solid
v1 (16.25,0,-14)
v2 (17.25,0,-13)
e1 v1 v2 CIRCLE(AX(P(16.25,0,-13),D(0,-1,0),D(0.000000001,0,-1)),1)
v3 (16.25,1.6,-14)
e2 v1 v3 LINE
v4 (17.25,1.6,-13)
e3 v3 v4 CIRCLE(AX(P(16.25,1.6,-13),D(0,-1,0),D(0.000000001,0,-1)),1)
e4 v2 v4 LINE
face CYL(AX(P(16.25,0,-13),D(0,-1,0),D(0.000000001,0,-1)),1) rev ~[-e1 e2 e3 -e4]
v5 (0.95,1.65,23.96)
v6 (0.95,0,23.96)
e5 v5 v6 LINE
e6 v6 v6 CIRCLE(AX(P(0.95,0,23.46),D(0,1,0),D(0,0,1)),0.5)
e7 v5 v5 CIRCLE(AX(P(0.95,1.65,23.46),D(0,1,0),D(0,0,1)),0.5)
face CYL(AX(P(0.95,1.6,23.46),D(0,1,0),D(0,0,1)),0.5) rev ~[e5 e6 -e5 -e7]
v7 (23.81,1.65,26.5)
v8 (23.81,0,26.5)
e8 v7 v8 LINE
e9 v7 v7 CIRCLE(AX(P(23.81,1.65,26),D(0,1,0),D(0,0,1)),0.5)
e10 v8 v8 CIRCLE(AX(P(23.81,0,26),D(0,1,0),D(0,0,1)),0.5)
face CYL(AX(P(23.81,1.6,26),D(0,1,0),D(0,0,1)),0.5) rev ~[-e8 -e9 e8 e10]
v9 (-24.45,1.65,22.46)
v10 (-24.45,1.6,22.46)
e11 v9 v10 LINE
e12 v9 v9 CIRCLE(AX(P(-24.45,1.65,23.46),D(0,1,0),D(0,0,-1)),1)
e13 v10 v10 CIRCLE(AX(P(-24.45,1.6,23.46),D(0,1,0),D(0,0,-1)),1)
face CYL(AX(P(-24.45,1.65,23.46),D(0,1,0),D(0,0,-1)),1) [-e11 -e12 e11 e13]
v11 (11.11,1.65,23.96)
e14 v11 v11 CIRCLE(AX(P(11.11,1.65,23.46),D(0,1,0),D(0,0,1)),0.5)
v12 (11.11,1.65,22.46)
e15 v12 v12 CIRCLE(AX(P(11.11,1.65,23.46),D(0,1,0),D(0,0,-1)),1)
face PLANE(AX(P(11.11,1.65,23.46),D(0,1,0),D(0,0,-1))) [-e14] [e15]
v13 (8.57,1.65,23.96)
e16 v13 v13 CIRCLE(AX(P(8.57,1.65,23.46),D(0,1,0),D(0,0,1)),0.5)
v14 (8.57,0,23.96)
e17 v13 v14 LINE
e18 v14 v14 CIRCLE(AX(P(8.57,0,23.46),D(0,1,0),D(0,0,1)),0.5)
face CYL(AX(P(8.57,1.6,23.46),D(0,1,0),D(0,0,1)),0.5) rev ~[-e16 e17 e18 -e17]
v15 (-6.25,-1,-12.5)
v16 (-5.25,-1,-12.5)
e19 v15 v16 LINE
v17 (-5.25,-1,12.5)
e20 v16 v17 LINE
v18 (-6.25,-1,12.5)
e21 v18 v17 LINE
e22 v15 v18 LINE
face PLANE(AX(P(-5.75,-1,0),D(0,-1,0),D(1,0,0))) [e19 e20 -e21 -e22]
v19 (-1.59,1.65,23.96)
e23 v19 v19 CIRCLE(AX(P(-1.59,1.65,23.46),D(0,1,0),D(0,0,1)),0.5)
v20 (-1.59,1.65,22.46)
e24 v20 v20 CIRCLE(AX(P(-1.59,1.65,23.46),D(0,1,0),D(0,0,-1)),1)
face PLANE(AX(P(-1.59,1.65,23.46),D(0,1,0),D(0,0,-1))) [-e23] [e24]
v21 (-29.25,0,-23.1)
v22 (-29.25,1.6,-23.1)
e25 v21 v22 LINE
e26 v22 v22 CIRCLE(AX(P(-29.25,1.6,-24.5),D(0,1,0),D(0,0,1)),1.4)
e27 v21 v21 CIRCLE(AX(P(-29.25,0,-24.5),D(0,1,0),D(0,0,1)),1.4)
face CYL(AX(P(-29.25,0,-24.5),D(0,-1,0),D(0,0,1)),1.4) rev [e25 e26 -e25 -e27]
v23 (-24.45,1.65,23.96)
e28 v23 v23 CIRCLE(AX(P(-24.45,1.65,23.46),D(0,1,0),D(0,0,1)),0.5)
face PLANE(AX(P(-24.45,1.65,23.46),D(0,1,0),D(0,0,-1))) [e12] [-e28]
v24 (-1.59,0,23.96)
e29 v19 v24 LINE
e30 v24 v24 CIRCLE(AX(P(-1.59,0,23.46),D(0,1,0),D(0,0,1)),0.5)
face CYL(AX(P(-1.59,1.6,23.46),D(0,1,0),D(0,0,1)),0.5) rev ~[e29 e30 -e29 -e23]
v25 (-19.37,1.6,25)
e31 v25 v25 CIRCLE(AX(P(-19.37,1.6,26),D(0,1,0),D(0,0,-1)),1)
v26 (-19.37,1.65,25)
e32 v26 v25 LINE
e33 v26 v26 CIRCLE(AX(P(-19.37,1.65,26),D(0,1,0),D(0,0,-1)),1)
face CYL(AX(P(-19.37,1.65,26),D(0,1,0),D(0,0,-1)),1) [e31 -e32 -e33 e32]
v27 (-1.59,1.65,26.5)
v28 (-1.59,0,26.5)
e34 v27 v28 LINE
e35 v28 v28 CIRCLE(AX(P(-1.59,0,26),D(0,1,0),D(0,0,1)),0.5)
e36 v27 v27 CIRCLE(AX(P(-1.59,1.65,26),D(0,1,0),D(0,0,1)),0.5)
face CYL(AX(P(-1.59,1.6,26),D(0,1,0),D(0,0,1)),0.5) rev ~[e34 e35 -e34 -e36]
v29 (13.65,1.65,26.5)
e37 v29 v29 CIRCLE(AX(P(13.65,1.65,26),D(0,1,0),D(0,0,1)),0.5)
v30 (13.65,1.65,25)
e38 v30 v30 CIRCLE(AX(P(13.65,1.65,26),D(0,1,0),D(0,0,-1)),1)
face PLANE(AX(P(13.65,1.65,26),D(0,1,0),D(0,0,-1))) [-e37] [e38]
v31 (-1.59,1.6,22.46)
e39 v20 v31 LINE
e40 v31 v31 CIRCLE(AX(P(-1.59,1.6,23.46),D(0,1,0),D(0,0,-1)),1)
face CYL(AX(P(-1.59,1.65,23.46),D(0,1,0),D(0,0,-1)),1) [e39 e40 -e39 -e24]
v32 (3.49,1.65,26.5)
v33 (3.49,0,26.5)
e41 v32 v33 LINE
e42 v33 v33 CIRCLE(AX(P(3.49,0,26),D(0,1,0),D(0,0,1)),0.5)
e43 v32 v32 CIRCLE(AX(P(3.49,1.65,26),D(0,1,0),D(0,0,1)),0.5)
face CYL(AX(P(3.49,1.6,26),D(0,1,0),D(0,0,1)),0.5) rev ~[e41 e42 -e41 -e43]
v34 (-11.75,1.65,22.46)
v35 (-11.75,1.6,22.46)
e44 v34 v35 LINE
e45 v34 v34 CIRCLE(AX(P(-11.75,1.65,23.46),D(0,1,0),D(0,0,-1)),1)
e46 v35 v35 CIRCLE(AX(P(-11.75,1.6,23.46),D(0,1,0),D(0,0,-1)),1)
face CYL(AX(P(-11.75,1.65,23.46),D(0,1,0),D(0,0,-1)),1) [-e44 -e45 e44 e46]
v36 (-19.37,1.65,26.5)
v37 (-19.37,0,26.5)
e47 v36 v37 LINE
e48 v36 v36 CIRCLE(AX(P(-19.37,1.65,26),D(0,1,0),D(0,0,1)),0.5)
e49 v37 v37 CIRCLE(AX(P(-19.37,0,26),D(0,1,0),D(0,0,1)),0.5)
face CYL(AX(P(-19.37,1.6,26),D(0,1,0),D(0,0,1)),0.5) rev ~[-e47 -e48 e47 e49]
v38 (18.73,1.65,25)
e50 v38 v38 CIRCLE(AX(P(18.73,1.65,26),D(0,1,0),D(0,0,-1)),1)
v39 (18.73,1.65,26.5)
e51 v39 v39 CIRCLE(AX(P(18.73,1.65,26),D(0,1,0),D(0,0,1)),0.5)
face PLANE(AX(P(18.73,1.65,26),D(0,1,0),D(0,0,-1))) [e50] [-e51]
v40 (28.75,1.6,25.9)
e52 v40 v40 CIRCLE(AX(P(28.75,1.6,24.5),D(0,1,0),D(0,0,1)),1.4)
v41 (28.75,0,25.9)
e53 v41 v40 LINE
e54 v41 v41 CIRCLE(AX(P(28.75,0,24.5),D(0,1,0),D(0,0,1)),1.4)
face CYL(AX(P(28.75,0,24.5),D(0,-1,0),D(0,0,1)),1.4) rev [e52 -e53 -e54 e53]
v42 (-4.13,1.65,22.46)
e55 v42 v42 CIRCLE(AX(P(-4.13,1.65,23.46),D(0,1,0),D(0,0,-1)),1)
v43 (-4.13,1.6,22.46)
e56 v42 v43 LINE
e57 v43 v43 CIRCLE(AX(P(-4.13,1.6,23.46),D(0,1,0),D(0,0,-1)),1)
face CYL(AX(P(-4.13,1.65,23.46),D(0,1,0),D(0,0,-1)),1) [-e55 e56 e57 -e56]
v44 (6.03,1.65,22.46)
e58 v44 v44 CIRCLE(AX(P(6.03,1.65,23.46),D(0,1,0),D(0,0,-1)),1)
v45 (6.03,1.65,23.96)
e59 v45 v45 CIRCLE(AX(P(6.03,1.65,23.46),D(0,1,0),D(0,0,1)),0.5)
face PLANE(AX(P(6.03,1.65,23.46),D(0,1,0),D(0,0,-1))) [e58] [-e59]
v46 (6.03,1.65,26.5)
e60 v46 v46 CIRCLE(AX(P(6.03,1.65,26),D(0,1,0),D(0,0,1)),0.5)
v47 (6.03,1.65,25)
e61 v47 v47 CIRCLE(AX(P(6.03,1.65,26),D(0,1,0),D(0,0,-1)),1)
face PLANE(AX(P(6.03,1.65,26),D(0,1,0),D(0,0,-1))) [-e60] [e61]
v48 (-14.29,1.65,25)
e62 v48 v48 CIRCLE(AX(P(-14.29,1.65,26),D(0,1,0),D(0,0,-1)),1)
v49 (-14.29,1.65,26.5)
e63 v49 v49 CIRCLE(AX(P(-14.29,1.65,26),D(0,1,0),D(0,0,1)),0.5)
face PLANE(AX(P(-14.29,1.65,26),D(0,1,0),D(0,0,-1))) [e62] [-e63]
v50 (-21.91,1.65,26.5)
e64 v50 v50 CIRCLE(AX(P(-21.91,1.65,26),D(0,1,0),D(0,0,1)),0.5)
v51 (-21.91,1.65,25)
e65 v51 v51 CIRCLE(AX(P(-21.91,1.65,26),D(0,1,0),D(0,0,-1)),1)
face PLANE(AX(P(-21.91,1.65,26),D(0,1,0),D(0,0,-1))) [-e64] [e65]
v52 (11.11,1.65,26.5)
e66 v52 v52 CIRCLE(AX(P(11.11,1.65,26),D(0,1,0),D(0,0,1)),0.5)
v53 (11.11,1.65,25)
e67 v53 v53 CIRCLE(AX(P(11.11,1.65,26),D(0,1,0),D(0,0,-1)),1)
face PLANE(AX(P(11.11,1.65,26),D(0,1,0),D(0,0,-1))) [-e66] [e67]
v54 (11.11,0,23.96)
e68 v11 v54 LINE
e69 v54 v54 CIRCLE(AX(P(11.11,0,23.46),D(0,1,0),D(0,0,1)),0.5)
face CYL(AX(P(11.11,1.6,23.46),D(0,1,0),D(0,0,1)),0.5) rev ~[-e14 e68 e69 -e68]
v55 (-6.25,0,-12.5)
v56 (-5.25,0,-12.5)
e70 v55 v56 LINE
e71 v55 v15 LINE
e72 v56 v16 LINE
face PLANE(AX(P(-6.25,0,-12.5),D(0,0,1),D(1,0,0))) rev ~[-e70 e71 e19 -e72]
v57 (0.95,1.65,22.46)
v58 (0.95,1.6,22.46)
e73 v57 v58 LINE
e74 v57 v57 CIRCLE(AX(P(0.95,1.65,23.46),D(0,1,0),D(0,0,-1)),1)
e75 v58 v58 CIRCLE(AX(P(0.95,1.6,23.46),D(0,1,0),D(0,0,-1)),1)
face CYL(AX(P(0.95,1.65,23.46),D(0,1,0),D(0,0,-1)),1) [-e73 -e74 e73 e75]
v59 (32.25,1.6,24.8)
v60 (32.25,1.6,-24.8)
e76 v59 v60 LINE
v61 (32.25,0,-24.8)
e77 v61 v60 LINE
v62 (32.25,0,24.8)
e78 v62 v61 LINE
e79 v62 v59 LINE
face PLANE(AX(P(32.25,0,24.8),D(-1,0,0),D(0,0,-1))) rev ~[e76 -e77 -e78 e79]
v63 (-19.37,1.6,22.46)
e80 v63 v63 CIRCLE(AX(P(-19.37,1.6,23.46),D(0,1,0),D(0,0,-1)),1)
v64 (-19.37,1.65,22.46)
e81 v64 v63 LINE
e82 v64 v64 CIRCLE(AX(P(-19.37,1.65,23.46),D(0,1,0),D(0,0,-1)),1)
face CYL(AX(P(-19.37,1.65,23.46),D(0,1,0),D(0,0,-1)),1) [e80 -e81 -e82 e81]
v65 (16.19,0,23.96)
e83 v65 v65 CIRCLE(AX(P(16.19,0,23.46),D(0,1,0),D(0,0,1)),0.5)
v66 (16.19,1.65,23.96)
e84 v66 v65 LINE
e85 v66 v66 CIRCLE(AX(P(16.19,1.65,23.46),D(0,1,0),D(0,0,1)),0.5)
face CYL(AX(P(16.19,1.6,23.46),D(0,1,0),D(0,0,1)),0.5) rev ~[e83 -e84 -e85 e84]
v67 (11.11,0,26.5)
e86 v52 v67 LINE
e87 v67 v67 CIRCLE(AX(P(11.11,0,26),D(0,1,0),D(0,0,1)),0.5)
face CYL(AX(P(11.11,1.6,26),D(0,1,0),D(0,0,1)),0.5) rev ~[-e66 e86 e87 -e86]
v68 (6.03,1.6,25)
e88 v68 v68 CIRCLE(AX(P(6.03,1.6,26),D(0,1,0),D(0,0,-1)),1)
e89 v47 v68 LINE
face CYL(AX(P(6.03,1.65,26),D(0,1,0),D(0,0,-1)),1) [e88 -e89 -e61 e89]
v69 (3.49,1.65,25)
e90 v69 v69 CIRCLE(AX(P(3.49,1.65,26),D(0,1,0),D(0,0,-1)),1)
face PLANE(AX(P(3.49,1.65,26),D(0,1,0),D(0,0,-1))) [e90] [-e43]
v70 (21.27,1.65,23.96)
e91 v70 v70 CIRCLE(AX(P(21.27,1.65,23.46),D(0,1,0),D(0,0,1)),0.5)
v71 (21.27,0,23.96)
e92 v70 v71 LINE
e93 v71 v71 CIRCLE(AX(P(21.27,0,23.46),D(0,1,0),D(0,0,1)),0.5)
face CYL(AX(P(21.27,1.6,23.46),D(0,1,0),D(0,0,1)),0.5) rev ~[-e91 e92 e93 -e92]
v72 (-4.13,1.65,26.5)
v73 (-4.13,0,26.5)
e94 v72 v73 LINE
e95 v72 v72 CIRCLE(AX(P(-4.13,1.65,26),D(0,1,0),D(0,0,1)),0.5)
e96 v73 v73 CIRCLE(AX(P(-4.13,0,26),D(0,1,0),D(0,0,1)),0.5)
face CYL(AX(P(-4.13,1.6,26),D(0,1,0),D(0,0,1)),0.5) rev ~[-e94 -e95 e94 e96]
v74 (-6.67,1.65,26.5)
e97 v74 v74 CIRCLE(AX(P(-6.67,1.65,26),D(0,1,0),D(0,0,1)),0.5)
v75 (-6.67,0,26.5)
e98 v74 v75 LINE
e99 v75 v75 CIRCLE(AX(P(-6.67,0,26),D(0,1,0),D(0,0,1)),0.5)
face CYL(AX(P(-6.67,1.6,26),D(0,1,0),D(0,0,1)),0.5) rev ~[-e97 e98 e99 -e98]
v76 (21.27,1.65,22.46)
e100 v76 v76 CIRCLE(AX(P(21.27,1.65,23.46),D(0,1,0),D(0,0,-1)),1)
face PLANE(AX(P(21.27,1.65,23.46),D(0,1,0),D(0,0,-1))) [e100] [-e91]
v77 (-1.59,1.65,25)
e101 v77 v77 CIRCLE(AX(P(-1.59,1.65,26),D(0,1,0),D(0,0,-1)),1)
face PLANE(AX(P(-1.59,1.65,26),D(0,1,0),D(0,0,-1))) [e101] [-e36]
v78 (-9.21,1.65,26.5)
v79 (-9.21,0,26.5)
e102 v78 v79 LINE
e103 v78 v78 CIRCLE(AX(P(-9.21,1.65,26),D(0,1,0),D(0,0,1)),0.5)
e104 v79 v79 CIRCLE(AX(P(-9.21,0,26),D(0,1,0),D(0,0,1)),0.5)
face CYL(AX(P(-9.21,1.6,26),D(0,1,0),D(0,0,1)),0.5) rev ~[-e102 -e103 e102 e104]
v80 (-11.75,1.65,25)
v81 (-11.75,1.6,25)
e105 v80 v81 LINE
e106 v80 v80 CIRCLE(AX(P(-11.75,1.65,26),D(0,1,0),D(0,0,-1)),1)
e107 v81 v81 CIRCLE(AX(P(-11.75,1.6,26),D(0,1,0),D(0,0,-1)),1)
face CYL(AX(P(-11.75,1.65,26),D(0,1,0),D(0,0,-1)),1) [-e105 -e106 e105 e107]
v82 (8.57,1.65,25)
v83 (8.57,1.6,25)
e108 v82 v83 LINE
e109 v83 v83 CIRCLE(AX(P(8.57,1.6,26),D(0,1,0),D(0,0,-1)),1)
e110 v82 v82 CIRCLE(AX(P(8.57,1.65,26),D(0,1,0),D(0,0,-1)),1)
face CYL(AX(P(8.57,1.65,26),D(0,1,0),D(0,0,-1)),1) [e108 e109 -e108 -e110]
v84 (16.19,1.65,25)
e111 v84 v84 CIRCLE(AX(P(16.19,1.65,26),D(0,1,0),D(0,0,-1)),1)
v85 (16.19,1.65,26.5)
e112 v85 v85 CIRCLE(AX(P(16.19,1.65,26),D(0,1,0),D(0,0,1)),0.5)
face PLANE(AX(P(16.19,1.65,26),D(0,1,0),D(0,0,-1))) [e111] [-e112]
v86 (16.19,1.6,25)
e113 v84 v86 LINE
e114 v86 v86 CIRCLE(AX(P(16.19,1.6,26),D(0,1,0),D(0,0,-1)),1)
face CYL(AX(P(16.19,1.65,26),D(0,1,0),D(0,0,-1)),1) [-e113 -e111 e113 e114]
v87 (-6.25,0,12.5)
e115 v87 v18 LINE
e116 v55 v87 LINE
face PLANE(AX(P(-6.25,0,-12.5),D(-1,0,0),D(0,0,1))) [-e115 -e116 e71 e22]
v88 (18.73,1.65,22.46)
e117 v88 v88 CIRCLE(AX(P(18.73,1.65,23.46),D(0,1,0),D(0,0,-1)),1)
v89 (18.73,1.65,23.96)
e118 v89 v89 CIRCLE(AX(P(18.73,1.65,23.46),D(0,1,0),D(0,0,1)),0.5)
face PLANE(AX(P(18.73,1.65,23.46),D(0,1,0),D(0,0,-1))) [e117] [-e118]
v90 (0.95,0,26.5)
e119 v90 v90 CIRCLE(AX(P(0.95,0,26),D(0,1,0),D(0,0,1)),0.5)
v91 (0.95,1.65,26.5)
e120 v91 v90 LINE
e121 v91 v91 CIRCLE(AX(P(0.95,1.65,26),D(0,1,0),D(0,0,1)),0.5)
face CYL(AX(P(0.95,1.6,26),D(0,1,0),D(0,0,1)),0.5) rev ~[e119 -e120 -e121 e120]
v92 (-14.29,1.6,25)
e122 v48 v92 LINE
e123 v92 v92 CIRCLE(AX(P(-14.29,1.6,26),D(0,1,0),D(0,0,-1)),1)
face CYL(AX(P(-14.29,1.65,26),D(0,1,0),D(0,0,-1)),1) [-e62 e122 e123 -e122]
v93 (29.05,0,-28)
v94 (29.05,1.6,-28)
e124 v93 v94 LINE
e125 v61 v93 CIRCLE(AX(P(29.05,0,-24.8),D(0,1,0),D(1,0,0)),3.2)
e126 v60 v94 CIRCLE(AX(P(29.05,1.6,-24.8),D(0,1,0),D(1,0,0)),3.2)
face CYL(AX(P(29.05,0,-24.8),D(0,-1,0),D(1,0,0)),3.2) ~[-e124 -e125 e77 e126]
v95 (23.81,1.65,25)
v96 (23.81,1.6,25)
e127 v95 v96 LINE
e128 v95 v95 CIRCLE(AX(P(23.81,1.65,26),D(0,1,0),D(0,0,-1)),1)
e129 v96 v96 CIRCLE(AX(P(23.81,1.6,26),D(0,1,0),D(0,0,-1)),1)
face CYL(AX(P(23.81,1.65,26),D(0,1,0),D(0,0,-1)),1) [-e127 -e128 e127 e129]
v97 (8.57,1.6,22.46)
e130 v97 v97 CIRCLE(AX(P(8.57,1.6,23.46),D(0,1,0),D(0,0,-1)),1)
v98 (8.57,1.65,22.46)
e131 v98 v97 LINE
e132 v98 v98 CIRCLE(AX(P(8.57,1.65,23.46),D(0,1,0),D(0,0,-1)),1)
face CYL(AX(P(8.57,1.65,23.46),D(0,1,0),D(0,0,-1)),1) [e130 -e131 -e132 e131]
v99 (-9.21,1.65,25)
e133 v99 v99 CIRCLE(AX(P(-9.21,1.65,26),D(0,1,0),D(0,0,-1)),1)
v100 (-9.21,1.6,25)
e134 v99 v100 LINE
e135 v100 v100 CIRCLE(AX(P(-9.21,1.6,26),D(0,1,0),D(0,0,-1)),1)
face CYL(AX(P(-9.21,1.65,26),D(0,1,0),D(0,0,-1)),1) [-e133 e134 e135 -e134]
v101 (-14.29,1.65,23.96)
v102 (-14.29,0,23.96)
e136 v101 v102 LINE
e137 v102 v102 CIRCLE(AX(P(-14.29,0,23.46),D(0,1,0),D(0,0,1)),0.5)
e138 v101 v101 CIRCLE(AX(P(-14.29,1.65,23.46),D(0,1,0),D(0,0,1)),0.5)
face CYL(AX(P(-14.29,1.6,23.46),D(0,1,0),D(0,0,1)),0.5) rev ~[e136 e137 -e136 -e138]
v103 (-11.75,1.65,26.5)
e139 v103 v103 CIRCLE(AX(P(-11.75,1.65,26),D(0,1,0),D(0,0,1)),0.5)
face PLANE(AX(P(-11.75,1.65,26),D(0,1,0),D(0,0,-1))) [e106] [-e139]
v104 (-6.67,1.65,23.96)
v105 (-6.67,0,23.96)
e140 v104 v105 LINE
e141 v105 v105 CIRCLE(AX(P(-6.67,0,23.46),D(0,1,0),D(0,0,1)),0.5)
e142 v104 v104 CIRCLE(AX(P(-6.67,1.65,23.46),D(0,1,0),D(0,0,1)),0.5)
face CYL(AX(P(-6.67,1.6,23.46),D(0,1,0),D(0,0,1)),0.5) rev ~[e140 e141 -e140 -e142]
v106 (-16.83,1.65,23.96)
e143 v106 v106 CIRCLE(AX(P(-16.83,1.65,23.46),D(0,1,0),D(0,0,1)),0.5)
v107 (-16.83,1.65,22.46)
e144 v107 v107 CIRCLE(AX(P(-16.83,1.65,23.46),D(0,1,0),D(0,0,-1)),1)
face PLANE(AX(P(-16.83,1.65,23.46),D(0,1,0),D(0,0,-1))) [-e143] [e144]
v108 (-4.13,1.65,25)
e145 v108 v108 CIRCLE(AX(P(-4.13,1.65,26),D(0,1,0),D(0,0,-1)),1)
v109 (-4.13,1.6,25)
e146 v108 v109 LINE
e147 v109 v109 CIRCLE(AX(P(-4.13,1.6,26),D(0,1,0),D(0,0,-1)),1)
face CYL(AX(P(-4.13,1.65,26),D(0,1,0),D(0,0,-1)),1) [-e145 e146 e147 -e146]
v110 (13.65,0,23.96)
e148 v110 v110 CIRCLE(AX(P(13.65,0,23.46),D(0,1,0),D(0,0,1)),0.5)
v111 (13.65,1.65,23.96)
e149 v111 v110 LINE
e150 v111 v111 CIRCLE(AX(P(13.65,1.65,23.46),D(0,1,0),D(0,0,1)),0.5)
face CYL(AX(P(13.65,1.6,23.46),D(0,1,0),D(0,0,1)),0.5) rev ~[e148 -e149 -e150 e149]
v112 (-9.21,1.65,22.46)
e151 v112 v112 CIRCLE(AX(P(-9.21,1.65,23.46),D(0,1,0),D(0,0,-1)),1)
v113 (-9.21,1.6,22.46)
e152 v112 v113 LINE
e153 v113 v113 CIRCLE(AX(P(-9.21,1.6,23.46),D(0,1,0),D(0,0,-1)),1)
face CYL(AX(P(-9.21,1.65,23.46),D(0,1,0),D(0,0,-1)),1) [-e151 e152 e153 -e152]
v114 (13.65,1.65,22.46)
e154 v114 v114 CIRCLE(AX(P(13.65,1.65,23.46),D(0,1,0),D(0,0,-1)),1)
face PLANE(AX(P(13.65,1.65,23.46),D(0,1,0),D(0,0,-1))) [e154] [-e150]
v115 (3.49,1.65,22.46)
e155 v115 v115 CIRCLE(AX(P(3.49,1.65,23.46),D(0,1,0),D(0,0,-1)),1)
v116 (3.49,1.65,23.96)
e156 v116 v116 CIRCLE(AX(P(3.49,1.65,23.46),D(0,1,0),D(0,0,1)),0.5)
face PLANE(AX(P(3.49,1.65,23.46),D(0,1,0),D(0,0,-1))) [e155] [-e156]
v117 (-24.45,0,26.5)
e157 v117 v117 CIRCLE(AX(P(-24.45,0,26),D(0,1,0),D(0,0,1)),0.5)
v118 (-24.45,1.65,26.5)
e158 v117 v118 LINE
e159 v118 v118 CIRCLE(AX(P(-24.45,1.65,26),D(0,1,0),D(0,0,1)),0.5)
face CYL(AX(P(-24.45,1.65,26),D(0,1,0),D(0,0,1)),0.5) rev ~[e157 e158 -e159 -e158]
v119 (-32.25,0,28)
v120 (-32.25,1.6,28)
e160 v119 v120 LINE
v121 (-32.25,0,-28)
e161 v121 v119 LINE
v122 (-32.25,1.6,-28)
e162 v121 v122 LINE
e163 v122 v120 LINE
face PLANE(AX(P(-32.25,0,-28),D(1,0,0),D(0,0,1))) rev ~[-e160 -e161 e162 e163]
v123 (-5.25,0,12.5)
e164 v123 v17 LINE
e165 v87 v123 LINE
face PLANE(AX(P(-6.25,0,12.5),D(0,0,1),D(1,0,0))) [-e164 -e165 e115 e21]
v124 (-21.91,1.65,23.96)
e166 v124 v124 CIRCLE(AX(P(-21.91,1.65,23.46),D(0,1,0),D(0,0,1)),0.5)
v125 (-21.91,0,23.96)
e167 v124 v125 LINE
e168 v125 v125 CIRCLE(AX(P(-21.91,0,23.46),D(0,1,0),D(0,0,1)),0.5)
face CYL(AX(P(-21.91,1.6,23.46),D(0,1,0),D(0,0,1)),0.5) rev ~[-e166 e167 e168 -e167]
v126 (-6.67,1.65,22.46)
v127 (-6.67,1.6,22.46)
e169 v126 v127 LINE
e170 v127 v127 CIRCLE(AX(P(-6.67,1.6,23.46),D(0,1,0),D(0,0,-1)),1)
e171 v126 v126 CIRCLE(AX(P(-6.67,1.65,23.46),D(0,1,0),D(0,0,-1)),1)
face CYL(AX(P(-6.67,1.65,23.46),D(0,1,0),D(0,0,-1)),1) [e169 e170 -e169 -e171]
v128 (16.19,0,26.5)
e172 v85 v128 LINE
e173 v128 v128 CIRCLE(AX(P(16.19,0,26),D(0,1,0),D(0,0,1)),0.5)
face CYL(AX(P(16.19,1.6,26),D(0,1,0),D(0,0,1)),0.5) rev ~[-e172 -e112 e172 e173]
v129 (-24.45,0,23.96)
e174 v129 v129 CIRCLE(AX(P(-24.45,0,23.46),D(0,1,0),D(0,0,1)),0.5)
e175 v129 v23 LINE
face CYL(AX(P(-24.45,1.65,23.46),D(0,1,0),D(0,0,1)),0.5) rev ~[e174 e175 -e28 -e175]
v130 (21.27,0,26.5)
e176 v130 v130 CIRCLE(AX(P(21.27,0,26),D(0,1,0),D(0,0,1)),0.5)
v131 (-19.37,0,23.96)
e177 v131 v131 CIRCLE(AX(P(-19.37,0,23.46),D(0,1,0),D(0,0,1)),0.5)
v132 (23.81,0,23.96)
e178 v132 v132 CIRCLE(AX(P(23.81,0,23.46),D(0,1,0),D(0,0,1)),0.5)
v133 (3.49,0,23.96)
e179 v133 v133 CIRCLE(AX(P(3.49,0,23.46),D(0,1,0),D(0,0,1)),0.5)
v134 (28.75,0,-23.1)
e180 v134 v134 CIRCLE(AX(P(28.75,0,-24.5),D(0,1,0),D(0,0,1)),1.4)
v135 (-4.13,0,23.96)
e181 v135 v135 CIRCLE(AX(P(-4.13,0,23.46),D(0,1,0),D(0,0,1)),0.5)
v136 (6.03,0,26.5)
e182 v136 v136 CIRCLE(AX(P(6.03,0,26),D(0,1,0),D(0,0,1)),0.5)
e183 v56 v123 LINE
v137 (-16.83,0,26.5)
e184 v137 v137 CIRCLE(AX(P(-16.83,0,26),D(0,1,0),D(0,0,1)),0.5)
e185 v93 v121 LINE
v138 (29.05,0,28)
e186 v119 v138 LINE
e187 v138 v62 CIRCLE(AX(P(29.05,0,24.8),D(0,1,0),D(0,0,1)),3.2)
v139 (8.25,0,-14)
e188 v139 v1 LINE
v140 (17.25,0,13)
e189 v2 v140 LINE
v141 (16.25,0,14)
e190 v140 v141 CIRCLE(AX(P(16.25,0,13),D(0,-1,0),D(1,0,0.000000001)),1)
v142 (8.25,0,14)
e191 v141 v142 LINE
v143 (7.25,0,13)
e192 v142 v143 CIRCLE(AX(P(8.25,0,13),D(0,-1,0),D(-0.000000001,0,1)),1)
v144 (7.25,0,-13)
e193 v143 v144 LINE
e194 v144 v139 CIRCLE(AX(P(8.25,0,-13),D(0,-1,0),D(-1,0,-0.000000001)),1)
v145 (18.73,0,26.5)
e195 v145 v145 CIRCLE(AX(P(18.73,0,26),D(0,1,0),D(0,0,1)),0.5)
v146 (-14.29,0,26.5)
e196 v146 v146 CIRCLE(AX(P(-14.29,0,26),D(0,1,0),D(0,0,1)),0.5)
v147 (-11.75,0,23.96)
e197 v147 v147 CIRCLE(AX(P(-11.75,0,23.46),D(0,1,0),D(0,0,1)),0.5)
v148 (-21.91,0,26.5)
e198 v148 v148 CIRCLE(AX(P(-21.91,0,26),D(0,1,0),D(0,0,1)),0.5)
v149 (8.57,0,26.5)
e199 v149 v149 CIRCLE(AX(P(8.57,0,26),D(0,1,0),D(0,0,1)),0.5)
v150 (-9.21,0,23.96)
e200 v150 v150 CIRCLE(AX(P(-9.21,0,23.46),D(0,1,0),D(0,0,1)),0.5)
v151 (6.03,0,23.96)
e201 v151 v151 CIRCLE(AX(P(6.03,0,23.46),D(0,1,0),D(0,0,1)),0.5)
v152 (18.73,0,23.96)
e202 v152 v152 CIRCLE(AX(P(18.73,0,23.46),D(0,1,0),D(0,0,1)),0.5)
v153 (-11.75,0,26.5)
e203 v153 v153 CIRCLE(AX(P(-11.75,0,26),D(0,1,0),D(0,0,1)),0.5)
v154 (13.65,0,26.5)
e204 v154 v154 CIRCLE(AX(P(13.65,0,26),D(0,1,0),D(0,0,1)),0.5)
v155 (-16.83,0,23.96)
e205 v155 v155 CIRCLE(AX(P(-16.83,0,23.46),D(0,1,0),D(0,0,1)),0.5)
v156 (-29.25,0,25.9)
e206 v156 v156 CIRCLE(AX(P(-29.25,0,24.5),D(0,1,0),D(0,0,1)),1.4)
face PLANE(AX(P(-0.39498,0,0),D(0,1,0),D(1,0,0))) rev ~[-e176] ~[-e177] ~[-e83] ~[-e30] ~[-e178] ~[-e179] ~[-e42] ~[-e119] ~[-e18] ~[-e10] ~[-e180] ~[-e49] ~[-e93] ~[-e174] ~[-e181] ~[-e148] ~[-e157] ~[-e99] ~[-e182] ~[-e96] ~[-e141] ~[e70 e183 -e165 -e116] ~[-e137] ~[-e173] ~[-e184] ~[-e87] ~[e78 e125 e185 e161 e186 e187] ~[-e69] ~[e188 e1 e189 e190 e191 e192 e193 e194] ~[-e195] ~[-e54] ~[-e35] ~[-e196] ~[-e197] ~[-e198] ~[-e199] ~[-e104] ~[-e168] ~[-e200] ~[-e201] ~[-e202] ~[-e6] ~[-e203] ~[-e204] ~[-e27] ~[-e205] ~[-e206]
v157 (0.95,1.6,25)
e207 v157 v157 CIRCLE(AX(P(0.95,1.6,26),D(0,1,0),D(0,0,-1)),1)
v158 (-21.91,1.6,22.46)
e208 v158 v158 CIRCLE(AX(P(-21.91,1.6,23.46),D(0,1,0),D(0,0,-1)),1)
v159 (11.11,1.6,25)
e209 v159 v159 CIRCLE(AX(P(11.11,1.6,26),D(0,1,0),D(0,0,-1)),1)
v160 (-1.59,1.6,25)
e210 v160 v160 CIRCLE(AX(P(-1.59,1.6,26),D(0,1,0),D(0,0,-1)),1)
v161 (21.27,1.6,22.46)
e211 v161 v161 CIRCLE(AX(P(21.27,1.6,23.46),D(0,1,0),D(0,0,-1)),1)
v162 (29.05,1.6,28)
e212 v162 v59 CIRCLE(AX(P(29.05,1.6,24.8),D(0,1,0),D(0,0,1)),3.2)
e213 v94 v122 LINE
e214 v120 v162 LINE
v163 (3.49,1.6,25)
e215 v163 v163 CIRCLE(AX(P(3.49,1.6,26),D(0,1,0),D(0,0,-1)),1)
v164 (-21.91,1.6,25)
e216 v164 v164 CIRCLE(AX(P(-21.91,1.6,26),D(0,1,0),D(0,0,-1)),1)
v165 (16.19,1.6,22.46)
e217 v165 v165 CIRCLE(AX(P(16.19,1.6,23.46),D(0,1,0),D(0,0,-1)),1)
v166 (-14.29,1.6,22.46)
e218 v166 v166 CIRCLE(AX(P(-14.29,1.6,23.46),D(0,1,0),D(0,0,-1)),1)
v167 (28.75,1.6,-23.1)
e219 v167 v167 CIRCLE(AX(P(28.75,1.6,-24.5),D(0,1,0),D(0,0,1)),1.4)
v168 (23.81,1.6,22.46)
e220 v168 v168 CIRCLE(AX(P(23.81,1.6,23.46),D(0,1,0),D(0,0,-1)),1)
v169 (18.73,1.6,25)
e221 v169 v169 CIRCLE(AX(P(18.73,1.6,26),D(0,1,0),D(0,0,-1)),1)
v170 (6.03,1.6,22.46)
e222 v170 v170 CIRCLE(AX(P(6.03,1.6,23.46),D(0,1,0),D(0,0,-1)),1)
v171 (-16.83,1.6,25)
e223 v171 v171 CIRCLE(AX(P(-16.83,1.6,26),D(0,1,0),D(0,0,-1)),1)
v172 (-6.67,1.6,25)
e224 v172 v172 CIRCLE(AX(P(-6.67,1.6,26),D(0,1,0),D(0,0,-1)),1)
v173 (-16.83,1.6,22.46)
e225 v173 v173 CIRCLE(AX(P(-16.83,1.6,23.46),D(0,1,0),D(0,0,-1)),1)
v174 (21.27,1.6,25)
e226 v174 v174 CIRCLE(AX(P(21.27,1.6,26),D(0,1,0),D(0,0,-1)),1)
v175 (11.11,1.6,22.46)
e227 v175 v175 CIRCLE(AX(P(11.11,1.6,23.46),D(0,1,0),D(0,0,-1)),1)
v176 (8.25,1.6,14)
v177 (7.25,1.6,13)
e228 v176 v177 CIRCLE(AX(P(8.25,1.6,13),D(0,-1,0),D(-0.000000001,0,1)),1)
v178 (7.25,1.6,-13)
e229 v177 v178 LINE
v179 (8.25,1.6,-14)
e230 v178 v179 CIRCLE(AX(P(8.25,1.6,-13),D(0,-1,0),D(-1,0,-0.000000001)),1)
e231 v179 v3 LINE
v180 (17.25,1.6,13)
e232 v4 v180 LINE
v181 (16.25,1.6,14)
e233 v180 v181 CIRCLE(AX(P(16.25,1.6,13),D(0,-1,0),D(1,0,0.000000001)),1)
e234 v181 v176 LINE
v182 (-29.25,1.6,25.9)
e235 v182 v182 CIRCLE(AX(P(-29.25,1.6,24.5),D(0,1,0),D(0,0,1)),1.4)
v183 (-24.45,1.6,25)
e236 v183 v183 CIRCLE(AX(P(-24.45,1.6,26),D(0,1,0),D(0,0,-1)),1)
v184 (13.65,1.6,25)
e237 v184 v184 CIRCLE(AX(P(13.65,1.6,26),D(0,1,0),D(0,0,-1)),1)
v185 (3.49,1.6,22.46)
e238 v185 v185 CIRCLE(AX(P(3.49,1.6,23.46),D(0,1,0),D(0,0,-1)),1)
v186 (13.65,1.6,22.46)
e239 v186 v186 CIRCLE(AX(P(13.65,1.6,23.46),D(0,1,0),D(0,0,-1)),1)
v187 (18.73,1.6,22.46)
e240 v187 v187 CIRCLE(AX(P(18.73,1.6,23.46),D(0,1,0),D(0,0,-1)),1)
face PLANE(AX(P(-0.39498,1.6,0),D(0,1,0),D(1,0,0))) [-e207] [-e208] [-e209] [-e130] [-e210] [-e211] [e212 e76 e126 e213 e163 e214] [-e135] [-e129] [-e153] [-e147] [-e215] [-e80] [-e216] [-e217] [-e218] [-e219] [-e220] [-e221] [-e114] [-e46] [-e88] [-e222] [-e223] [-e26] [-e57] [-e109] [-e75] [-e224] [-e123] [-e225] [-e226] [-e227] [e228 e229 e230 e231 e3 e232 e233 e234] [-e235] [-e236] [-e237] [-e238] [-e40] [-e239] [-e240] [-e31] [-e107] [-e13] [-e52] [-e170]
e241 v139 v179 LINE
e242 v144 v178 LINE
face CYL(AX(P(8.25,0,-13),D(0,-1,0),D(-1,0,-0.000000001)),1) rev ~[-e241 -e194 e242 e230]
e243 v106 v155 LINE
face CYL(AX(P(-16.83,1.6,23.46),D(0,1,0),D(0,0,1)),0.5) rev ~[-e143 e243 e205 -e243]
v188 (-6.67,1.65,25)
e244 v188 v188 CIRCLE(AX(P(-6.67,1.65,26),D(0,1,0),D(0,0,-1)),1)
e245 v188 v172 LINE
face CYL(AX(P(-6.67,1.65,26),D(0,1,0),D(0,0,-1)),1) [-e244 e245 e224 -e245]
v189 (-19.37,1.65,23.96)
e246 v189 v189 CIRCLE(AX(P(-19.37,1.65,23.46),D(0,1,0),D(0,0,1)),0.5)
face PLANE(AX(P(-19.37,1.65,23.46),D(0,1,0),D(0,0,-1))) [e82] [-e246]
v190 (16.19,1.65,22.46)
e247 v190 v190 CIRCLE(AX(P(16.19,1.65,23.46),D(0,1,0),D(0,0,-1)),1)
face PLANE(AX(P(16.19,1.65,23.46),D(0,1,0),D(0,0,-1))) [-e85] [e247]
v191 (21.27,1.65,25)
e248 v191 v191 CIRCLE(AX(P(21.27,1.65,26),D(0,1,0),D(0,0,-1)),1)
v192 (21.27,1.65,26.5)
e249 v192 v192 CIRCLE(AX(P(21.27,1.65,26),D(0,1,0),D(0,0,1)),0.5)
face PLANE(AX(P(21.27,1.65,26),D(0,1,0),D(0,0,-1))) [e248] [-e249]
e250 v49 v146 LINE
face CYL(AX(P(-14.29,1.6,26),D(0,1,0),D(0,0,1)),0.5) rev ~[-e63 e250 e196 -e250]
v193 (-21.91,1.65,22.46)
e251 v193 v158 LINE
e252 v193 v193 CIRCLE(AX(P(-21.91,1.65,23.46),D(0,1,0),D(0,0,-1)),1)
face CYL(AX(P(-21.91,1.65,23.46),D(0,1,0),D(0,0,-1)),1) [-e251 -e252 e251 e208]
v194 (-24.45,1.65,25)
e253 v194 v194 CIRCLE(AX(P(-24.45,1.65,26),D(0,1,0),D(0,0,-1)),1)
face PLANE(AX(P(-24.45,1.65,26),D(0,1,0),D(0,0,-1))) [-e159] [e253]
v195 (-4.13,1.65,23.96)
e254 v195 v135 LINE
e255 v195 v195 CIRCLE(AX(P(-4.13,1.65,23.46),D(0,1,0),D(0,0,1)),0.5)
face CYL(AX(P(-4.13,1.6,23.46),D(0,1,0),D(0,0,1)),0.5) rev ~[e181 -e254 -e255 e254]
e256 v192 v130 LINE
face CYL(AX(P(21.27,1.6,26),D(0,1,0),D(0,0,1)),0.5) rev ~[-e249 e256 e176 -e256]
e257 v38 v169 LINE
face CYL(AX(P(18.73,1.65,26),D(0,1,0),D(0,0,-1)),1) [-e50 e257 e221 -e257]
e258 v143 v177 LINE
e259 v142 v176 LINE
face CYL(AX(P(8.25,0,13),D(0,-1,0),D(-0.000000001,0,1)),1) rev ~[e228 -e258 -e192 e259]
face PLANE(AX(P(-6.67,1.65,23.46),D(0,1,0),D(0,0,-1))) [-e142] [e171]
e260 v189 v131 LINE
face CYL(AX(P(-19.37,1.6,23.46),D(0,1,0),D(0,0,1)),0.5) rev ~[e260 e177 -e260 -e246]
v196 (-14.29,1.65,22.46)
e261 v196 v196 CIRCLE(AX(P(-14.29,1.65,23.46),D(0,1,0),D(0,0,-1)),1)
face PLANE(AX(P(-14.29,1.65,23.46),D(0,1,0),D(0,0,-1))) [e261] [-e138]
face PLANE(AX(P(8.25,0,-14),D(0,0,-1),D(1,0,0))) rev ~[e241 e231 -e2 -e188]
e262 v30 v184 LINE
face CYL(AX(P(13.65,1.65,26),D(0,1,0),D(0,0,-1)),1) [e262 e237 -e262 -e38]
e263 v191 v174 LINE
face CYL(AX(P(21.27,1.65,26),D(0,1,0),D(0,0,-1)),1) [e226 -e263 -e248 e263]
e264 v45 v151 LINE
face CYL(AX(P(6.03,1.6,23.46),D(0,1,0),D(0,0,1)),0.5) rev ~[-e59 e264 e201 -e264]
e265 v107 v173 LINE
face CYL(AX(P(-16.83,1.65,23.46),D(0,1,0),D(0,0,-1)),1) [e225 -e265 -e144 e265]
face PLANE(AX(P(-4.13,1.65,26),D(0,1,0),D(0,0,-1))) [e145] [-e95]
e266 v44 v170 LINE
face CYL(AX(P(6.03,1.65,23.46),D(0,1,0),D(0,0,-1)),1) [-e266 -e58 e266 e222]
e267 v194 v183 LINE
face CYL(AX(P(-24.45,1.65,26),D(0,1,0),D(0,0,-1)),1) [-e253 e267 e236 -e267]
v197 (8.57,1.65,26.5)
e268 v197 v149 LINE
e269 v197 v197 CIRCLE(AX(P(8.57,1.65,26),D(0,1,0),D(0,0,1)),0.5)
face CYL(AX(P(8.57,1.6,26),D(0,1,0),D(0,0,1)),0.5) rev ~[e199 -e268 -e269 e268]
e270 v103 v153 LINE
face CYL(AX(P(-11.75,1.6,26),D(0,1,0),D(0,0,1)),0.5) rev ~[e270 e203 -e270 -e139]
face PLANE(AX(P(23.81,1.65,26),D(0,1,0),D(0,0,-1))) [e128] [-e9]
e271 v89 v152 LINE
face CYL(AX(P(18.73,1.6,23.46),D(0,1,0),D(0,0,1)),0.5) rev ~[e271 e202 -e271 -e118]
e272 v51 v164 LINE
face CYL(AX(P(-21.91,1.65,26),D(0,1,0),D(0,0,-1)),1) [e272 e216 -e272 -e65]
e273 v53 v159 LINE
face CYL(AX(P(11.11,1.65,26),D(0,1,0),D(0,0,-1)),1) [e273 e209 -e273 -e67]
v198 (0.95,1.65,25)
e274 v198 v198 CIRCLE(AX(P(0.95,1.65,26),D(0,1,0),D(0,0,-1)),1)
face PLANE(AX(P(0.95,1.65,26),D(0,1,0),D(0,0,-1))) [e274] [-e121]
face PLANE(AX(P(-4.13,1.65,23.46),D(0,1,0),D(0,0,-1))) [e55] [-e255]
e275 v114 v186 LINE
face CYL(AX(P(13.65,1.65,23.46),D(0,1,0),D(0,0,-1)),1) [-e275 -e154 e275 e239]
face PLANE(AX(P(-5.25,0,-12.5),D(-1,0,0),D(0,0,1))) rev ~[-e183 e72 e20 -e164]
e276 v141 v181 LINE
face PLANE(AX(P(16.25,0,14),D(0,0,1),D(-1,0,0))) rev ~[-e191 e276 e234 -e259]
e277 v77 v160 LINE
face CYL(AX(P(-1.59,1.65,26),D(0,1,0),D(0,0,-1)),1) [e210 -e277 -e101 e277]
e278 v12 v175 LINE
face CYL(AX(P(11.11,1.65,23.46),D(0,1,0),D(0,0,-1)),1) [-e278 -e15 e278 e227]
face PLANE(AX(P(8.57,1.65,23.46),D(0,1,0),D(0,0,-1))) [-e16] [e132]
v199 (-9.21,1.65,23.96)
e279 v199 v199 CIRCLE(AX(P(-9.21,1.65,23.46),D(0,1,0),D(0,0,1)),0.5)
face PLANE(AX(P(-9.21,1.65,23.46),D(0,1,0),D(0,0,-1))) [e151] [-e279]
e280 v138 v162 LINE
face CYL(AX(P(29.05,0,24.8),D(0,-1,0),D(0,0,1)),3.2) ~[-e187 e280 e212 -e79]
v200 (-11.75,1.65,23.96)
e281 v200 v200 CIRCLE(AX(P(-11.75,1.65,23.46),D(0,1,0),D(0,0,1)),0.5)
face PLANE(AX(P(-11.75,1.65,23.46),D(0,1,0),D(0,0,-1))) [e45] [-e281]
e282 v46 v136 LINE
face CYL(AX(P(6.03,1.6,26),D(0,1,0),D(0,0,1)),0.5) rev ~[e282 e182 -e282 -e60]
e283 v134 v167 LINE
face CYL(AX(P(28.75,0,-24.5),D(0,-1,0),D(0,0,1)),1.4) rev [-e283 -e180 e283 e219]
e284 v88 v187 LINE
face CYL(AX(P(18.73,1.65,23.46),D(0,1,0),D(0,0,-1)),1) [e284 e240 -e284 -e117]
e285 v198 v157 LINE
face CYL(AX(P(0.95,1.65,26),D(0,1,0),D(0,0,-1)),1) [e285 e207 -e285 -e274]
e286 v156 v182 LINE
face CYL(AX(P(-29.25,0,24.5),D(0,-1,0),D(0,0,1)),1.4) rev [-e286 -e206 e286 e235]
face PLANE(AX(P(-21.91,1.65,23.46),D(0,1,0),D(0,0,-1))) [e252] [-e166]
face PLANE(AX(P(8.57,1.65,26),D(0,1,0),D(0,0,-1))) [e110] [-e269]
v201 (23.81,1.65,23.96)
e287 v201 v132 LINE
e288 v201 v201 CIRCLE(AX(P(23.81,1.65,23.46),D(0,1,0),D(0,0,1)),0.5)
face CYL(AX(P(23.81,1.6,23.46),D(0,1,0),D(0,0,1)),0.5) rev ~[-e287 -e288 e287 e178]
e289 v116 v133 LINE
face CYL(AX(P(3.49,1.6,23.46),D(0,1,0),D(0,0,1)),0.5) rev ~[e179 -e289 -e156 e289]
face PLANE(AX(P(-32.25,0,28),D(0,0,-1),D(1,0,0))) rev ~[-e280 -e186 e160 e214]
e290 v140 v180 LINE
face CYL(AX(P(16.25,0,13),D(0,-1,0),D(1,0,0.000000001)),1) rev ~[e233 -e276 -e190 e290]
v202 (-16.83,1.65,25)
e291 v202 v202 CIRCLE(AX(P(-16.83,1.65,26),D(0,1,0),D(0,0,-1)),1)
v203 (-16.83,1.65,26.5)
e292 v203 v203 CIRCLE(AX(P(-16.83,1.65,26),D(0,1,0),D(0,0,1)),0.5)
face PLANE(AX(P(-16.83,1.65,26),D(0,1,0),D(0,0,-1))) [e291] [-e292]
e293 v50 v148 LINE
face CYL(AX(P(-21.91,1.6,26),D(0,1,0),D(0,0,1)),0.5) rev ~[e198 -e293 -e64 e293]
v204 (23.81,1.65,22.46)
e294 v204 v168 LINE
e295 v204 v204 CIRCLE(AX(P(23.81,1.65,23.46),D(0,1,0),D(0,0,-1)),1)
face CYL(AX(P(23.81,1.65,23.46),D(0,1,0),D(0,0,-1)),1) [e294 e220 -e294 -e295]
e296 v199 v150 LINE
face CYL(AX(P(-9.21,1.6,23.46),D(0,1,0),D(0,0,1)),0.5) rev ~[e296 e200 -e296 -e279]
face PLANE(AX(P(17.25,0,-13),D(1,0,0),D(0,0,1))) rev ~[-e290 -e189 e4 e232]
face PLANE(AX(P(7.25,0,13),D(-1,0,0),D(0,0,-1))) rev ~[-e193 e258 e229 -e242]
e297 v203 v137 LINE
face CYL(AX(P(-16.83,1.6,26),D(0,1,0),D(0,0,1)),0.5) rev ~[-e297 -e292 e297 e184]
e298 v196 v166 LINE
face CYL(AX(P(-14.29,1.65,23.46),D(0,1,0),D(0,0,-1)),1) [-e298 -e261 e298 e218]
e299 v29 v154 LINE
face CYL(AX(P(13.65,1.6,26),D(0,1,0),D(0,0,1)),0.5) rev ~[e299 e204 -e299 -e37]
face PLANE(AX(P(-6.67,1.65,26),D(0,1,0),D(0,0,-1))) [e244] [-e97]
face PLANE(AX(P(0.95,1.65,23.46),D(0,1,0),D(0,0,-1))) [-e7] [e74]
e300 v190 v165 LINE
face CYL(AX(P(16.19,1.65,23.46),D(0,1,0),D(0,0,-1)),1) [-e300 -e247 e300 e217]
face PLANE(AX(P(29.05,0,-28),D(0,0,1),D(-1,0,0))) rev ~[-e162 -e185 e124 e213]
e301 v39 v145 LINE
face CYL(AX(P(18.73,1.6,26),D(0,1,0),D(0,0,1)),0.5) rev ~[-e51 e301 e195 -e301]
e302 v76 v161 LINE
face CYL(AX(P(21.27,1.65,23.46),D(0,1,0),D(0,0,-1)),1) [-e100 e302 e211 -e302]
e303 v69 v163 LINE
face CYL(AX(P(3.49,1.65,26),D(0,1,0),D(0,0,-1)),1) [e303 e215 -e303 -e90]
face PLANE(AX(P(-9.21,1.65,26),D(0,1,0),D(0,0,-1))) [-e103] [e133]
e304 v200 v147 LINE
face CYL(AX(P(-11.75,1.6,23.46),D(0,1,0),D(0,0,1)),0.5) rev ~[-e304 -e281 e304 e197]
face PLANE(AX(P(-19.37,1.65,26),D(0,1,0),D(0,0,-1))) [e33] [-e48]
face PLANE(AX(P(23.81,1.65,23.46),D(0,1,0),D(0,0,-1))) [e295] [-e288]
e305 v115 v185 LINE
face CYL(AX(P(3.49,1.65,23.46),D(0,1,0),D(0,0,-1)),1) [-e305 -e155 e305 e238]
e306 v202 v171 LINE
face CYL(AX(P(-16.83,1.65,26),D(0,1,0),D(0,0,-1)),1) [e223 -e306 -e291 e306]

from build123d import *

# Parameters (mm, degrees)
SKETCH1_R            = 1.4
BOSS_EXTRUDE1_DEPTH  = 1.6
SKETCH2_R            = 0.5
CUT_EXTRUDE1_DEPTH   = 43.739004434
BOSS_EXTRUDE2_START  = 0.05
SKETCH3_R            = 1
SKETCH3_R_2          = 0.5
BOSS_EXTRUDE2_DEPTH  = 0.05
LPATTERN1_COUNT      = 20
LPATTERN1_PITCH      = 2.54
LPATTERN1_COUNT_DIR2 = 2
LPATTERN1_PITCH_DIR2 = 2.54
SKETCH4_W            = 1
SKETCH4_H            = 25
BOSS_EXTRUDE3_DEPTH  = 1


with BuildPart() as part:
    # Sketch1 → Boss-Extrude1 (new body)
    with BuildSketch(Plane(origin=(0, 0, 0), x_dir=(1, 0, 0), z_dir=(0, 1, 0))):
        with BuildLine():
            Line((-32.25, -28), (29.05, -28))
            ThreePointArc((29.05, -28), (31.3127417, -27.0627417), (32.25, -24.8))
            Line((32.25, -24.8), (32.25, 24.8))
            ThreePointArc((32.25, 24.8), (31.3127417, 27.0627417), (29.05, 28))
            Line((29.05, 28), (-32.25, 28))
            Line((-32.25, 28), (-32.25, -28))
        make_face()
        with Locations(Location((-29.25, -24.5, 0), (0, 0, 270))):
            Circle(SKETCH1_R, mode=Mode.SUBTRACT)
        with Locations(Location((-29.25, 24.5, 0), (0, 0, 270))):
            Circle(SKETCH1_R, mode=Mode.SUBTRACT)
        with Locations(Location((28.75, 24.5, 0), (0, 0, 270))):
            Circle(SKETCH1_R, mode=Mode.SUBTRACT)
        with Locations(Location((28.75, -24.5, 0), (0, 0, 270))):
            Circle(SKETCH1_R, mode=Mode.SUBTRACT)
        with BuildLine():
            Line((16.25, -14), (8.25, -14))
            ThreePointArc((8.25, -14), (7.542893219, -13.707106781), (7.25, -13))
            Line((7.25, -13), (7.25, 13))
            ThreePointArc((7.25, 13), (7.542893219, 13.707106781), (8.25, 14))
            Line((8.25, 14), (16.25, 14))
            ThreePointArc((16.25, 14), (16.957106781, 13.707106781), (17.25, 13))
            Line((17.25, 13), (17.25, -13))
            ThreePointArc((17.25, -13), (16.957106781, -13.707106781), (16.25, -14))
        make_face(mode=Mode.SUBTRACT)
    extrude(amount=BOSS_EXTRUDE1_DEPTH)

    # Sketch2 → Cut-Extrude1 (cut, through all)
    with BuildSketch(Plane(origin=(0, 1.6, 0), x_dir=(1, 0, 0), z_dir=(0, 1, 0))):
        with Locations(Location((-24.45, -26, 0), (0, 0, 270))):
            Circle(SKETCH2_R)
    cut_extrude1 = extrude(amount=-CUT_EXTRUDE1_DEPTH, mode=Mode.SUBTRACT)

    # Sketch3 → Boss-Extrude2 (add)
    with BuildSketch(Plane(origin=(0, 1.6, 0), x_dir=(1, 0, 0), z_dir=(0, 1, 0)).offset(BOSS_EXTRUDE2_START)):
        with Locations(Location((-24.45, -26, 0), (0, 0, 90))):
            Circle(SKETCH3_R)
        with Locations(Location((-24.45, -26, 0), (0, 0, 270))):
            Circle(SKETCH3_R_2, mode=Mode.SUBTRACT)
    boss_extrude2 = extrude(amount=-BOSS_EXTRUDE2_DEPTH)

    # LPattern1: Cut-Extrude1, Boss-Extrude2 20 × 2
    with Locations(*[(i * LPATTERN1_PITCH, 0, -j * LPATTERN1_PITCH_DIR2) for i in range(LPATTERN1_COUNT) for j in range(LPATTERN1_COUNT_DIR2) if (i, j) != (0, 0)]):
        add(cut_extrude1, mode=Mode.SUBTRACT)
        add(boss_extrude2)

    # Sketch4 → Boss-Extrude3 (add)
    with BuildSketch(Plane.XZ):
        with Locations((-5.75, 0)):
            Rectangle(SKETCH4_W, SKETCH4_H)
    extrude(amount=BOSS_EXTRUDE3_DEPTH)


solid = part.part
